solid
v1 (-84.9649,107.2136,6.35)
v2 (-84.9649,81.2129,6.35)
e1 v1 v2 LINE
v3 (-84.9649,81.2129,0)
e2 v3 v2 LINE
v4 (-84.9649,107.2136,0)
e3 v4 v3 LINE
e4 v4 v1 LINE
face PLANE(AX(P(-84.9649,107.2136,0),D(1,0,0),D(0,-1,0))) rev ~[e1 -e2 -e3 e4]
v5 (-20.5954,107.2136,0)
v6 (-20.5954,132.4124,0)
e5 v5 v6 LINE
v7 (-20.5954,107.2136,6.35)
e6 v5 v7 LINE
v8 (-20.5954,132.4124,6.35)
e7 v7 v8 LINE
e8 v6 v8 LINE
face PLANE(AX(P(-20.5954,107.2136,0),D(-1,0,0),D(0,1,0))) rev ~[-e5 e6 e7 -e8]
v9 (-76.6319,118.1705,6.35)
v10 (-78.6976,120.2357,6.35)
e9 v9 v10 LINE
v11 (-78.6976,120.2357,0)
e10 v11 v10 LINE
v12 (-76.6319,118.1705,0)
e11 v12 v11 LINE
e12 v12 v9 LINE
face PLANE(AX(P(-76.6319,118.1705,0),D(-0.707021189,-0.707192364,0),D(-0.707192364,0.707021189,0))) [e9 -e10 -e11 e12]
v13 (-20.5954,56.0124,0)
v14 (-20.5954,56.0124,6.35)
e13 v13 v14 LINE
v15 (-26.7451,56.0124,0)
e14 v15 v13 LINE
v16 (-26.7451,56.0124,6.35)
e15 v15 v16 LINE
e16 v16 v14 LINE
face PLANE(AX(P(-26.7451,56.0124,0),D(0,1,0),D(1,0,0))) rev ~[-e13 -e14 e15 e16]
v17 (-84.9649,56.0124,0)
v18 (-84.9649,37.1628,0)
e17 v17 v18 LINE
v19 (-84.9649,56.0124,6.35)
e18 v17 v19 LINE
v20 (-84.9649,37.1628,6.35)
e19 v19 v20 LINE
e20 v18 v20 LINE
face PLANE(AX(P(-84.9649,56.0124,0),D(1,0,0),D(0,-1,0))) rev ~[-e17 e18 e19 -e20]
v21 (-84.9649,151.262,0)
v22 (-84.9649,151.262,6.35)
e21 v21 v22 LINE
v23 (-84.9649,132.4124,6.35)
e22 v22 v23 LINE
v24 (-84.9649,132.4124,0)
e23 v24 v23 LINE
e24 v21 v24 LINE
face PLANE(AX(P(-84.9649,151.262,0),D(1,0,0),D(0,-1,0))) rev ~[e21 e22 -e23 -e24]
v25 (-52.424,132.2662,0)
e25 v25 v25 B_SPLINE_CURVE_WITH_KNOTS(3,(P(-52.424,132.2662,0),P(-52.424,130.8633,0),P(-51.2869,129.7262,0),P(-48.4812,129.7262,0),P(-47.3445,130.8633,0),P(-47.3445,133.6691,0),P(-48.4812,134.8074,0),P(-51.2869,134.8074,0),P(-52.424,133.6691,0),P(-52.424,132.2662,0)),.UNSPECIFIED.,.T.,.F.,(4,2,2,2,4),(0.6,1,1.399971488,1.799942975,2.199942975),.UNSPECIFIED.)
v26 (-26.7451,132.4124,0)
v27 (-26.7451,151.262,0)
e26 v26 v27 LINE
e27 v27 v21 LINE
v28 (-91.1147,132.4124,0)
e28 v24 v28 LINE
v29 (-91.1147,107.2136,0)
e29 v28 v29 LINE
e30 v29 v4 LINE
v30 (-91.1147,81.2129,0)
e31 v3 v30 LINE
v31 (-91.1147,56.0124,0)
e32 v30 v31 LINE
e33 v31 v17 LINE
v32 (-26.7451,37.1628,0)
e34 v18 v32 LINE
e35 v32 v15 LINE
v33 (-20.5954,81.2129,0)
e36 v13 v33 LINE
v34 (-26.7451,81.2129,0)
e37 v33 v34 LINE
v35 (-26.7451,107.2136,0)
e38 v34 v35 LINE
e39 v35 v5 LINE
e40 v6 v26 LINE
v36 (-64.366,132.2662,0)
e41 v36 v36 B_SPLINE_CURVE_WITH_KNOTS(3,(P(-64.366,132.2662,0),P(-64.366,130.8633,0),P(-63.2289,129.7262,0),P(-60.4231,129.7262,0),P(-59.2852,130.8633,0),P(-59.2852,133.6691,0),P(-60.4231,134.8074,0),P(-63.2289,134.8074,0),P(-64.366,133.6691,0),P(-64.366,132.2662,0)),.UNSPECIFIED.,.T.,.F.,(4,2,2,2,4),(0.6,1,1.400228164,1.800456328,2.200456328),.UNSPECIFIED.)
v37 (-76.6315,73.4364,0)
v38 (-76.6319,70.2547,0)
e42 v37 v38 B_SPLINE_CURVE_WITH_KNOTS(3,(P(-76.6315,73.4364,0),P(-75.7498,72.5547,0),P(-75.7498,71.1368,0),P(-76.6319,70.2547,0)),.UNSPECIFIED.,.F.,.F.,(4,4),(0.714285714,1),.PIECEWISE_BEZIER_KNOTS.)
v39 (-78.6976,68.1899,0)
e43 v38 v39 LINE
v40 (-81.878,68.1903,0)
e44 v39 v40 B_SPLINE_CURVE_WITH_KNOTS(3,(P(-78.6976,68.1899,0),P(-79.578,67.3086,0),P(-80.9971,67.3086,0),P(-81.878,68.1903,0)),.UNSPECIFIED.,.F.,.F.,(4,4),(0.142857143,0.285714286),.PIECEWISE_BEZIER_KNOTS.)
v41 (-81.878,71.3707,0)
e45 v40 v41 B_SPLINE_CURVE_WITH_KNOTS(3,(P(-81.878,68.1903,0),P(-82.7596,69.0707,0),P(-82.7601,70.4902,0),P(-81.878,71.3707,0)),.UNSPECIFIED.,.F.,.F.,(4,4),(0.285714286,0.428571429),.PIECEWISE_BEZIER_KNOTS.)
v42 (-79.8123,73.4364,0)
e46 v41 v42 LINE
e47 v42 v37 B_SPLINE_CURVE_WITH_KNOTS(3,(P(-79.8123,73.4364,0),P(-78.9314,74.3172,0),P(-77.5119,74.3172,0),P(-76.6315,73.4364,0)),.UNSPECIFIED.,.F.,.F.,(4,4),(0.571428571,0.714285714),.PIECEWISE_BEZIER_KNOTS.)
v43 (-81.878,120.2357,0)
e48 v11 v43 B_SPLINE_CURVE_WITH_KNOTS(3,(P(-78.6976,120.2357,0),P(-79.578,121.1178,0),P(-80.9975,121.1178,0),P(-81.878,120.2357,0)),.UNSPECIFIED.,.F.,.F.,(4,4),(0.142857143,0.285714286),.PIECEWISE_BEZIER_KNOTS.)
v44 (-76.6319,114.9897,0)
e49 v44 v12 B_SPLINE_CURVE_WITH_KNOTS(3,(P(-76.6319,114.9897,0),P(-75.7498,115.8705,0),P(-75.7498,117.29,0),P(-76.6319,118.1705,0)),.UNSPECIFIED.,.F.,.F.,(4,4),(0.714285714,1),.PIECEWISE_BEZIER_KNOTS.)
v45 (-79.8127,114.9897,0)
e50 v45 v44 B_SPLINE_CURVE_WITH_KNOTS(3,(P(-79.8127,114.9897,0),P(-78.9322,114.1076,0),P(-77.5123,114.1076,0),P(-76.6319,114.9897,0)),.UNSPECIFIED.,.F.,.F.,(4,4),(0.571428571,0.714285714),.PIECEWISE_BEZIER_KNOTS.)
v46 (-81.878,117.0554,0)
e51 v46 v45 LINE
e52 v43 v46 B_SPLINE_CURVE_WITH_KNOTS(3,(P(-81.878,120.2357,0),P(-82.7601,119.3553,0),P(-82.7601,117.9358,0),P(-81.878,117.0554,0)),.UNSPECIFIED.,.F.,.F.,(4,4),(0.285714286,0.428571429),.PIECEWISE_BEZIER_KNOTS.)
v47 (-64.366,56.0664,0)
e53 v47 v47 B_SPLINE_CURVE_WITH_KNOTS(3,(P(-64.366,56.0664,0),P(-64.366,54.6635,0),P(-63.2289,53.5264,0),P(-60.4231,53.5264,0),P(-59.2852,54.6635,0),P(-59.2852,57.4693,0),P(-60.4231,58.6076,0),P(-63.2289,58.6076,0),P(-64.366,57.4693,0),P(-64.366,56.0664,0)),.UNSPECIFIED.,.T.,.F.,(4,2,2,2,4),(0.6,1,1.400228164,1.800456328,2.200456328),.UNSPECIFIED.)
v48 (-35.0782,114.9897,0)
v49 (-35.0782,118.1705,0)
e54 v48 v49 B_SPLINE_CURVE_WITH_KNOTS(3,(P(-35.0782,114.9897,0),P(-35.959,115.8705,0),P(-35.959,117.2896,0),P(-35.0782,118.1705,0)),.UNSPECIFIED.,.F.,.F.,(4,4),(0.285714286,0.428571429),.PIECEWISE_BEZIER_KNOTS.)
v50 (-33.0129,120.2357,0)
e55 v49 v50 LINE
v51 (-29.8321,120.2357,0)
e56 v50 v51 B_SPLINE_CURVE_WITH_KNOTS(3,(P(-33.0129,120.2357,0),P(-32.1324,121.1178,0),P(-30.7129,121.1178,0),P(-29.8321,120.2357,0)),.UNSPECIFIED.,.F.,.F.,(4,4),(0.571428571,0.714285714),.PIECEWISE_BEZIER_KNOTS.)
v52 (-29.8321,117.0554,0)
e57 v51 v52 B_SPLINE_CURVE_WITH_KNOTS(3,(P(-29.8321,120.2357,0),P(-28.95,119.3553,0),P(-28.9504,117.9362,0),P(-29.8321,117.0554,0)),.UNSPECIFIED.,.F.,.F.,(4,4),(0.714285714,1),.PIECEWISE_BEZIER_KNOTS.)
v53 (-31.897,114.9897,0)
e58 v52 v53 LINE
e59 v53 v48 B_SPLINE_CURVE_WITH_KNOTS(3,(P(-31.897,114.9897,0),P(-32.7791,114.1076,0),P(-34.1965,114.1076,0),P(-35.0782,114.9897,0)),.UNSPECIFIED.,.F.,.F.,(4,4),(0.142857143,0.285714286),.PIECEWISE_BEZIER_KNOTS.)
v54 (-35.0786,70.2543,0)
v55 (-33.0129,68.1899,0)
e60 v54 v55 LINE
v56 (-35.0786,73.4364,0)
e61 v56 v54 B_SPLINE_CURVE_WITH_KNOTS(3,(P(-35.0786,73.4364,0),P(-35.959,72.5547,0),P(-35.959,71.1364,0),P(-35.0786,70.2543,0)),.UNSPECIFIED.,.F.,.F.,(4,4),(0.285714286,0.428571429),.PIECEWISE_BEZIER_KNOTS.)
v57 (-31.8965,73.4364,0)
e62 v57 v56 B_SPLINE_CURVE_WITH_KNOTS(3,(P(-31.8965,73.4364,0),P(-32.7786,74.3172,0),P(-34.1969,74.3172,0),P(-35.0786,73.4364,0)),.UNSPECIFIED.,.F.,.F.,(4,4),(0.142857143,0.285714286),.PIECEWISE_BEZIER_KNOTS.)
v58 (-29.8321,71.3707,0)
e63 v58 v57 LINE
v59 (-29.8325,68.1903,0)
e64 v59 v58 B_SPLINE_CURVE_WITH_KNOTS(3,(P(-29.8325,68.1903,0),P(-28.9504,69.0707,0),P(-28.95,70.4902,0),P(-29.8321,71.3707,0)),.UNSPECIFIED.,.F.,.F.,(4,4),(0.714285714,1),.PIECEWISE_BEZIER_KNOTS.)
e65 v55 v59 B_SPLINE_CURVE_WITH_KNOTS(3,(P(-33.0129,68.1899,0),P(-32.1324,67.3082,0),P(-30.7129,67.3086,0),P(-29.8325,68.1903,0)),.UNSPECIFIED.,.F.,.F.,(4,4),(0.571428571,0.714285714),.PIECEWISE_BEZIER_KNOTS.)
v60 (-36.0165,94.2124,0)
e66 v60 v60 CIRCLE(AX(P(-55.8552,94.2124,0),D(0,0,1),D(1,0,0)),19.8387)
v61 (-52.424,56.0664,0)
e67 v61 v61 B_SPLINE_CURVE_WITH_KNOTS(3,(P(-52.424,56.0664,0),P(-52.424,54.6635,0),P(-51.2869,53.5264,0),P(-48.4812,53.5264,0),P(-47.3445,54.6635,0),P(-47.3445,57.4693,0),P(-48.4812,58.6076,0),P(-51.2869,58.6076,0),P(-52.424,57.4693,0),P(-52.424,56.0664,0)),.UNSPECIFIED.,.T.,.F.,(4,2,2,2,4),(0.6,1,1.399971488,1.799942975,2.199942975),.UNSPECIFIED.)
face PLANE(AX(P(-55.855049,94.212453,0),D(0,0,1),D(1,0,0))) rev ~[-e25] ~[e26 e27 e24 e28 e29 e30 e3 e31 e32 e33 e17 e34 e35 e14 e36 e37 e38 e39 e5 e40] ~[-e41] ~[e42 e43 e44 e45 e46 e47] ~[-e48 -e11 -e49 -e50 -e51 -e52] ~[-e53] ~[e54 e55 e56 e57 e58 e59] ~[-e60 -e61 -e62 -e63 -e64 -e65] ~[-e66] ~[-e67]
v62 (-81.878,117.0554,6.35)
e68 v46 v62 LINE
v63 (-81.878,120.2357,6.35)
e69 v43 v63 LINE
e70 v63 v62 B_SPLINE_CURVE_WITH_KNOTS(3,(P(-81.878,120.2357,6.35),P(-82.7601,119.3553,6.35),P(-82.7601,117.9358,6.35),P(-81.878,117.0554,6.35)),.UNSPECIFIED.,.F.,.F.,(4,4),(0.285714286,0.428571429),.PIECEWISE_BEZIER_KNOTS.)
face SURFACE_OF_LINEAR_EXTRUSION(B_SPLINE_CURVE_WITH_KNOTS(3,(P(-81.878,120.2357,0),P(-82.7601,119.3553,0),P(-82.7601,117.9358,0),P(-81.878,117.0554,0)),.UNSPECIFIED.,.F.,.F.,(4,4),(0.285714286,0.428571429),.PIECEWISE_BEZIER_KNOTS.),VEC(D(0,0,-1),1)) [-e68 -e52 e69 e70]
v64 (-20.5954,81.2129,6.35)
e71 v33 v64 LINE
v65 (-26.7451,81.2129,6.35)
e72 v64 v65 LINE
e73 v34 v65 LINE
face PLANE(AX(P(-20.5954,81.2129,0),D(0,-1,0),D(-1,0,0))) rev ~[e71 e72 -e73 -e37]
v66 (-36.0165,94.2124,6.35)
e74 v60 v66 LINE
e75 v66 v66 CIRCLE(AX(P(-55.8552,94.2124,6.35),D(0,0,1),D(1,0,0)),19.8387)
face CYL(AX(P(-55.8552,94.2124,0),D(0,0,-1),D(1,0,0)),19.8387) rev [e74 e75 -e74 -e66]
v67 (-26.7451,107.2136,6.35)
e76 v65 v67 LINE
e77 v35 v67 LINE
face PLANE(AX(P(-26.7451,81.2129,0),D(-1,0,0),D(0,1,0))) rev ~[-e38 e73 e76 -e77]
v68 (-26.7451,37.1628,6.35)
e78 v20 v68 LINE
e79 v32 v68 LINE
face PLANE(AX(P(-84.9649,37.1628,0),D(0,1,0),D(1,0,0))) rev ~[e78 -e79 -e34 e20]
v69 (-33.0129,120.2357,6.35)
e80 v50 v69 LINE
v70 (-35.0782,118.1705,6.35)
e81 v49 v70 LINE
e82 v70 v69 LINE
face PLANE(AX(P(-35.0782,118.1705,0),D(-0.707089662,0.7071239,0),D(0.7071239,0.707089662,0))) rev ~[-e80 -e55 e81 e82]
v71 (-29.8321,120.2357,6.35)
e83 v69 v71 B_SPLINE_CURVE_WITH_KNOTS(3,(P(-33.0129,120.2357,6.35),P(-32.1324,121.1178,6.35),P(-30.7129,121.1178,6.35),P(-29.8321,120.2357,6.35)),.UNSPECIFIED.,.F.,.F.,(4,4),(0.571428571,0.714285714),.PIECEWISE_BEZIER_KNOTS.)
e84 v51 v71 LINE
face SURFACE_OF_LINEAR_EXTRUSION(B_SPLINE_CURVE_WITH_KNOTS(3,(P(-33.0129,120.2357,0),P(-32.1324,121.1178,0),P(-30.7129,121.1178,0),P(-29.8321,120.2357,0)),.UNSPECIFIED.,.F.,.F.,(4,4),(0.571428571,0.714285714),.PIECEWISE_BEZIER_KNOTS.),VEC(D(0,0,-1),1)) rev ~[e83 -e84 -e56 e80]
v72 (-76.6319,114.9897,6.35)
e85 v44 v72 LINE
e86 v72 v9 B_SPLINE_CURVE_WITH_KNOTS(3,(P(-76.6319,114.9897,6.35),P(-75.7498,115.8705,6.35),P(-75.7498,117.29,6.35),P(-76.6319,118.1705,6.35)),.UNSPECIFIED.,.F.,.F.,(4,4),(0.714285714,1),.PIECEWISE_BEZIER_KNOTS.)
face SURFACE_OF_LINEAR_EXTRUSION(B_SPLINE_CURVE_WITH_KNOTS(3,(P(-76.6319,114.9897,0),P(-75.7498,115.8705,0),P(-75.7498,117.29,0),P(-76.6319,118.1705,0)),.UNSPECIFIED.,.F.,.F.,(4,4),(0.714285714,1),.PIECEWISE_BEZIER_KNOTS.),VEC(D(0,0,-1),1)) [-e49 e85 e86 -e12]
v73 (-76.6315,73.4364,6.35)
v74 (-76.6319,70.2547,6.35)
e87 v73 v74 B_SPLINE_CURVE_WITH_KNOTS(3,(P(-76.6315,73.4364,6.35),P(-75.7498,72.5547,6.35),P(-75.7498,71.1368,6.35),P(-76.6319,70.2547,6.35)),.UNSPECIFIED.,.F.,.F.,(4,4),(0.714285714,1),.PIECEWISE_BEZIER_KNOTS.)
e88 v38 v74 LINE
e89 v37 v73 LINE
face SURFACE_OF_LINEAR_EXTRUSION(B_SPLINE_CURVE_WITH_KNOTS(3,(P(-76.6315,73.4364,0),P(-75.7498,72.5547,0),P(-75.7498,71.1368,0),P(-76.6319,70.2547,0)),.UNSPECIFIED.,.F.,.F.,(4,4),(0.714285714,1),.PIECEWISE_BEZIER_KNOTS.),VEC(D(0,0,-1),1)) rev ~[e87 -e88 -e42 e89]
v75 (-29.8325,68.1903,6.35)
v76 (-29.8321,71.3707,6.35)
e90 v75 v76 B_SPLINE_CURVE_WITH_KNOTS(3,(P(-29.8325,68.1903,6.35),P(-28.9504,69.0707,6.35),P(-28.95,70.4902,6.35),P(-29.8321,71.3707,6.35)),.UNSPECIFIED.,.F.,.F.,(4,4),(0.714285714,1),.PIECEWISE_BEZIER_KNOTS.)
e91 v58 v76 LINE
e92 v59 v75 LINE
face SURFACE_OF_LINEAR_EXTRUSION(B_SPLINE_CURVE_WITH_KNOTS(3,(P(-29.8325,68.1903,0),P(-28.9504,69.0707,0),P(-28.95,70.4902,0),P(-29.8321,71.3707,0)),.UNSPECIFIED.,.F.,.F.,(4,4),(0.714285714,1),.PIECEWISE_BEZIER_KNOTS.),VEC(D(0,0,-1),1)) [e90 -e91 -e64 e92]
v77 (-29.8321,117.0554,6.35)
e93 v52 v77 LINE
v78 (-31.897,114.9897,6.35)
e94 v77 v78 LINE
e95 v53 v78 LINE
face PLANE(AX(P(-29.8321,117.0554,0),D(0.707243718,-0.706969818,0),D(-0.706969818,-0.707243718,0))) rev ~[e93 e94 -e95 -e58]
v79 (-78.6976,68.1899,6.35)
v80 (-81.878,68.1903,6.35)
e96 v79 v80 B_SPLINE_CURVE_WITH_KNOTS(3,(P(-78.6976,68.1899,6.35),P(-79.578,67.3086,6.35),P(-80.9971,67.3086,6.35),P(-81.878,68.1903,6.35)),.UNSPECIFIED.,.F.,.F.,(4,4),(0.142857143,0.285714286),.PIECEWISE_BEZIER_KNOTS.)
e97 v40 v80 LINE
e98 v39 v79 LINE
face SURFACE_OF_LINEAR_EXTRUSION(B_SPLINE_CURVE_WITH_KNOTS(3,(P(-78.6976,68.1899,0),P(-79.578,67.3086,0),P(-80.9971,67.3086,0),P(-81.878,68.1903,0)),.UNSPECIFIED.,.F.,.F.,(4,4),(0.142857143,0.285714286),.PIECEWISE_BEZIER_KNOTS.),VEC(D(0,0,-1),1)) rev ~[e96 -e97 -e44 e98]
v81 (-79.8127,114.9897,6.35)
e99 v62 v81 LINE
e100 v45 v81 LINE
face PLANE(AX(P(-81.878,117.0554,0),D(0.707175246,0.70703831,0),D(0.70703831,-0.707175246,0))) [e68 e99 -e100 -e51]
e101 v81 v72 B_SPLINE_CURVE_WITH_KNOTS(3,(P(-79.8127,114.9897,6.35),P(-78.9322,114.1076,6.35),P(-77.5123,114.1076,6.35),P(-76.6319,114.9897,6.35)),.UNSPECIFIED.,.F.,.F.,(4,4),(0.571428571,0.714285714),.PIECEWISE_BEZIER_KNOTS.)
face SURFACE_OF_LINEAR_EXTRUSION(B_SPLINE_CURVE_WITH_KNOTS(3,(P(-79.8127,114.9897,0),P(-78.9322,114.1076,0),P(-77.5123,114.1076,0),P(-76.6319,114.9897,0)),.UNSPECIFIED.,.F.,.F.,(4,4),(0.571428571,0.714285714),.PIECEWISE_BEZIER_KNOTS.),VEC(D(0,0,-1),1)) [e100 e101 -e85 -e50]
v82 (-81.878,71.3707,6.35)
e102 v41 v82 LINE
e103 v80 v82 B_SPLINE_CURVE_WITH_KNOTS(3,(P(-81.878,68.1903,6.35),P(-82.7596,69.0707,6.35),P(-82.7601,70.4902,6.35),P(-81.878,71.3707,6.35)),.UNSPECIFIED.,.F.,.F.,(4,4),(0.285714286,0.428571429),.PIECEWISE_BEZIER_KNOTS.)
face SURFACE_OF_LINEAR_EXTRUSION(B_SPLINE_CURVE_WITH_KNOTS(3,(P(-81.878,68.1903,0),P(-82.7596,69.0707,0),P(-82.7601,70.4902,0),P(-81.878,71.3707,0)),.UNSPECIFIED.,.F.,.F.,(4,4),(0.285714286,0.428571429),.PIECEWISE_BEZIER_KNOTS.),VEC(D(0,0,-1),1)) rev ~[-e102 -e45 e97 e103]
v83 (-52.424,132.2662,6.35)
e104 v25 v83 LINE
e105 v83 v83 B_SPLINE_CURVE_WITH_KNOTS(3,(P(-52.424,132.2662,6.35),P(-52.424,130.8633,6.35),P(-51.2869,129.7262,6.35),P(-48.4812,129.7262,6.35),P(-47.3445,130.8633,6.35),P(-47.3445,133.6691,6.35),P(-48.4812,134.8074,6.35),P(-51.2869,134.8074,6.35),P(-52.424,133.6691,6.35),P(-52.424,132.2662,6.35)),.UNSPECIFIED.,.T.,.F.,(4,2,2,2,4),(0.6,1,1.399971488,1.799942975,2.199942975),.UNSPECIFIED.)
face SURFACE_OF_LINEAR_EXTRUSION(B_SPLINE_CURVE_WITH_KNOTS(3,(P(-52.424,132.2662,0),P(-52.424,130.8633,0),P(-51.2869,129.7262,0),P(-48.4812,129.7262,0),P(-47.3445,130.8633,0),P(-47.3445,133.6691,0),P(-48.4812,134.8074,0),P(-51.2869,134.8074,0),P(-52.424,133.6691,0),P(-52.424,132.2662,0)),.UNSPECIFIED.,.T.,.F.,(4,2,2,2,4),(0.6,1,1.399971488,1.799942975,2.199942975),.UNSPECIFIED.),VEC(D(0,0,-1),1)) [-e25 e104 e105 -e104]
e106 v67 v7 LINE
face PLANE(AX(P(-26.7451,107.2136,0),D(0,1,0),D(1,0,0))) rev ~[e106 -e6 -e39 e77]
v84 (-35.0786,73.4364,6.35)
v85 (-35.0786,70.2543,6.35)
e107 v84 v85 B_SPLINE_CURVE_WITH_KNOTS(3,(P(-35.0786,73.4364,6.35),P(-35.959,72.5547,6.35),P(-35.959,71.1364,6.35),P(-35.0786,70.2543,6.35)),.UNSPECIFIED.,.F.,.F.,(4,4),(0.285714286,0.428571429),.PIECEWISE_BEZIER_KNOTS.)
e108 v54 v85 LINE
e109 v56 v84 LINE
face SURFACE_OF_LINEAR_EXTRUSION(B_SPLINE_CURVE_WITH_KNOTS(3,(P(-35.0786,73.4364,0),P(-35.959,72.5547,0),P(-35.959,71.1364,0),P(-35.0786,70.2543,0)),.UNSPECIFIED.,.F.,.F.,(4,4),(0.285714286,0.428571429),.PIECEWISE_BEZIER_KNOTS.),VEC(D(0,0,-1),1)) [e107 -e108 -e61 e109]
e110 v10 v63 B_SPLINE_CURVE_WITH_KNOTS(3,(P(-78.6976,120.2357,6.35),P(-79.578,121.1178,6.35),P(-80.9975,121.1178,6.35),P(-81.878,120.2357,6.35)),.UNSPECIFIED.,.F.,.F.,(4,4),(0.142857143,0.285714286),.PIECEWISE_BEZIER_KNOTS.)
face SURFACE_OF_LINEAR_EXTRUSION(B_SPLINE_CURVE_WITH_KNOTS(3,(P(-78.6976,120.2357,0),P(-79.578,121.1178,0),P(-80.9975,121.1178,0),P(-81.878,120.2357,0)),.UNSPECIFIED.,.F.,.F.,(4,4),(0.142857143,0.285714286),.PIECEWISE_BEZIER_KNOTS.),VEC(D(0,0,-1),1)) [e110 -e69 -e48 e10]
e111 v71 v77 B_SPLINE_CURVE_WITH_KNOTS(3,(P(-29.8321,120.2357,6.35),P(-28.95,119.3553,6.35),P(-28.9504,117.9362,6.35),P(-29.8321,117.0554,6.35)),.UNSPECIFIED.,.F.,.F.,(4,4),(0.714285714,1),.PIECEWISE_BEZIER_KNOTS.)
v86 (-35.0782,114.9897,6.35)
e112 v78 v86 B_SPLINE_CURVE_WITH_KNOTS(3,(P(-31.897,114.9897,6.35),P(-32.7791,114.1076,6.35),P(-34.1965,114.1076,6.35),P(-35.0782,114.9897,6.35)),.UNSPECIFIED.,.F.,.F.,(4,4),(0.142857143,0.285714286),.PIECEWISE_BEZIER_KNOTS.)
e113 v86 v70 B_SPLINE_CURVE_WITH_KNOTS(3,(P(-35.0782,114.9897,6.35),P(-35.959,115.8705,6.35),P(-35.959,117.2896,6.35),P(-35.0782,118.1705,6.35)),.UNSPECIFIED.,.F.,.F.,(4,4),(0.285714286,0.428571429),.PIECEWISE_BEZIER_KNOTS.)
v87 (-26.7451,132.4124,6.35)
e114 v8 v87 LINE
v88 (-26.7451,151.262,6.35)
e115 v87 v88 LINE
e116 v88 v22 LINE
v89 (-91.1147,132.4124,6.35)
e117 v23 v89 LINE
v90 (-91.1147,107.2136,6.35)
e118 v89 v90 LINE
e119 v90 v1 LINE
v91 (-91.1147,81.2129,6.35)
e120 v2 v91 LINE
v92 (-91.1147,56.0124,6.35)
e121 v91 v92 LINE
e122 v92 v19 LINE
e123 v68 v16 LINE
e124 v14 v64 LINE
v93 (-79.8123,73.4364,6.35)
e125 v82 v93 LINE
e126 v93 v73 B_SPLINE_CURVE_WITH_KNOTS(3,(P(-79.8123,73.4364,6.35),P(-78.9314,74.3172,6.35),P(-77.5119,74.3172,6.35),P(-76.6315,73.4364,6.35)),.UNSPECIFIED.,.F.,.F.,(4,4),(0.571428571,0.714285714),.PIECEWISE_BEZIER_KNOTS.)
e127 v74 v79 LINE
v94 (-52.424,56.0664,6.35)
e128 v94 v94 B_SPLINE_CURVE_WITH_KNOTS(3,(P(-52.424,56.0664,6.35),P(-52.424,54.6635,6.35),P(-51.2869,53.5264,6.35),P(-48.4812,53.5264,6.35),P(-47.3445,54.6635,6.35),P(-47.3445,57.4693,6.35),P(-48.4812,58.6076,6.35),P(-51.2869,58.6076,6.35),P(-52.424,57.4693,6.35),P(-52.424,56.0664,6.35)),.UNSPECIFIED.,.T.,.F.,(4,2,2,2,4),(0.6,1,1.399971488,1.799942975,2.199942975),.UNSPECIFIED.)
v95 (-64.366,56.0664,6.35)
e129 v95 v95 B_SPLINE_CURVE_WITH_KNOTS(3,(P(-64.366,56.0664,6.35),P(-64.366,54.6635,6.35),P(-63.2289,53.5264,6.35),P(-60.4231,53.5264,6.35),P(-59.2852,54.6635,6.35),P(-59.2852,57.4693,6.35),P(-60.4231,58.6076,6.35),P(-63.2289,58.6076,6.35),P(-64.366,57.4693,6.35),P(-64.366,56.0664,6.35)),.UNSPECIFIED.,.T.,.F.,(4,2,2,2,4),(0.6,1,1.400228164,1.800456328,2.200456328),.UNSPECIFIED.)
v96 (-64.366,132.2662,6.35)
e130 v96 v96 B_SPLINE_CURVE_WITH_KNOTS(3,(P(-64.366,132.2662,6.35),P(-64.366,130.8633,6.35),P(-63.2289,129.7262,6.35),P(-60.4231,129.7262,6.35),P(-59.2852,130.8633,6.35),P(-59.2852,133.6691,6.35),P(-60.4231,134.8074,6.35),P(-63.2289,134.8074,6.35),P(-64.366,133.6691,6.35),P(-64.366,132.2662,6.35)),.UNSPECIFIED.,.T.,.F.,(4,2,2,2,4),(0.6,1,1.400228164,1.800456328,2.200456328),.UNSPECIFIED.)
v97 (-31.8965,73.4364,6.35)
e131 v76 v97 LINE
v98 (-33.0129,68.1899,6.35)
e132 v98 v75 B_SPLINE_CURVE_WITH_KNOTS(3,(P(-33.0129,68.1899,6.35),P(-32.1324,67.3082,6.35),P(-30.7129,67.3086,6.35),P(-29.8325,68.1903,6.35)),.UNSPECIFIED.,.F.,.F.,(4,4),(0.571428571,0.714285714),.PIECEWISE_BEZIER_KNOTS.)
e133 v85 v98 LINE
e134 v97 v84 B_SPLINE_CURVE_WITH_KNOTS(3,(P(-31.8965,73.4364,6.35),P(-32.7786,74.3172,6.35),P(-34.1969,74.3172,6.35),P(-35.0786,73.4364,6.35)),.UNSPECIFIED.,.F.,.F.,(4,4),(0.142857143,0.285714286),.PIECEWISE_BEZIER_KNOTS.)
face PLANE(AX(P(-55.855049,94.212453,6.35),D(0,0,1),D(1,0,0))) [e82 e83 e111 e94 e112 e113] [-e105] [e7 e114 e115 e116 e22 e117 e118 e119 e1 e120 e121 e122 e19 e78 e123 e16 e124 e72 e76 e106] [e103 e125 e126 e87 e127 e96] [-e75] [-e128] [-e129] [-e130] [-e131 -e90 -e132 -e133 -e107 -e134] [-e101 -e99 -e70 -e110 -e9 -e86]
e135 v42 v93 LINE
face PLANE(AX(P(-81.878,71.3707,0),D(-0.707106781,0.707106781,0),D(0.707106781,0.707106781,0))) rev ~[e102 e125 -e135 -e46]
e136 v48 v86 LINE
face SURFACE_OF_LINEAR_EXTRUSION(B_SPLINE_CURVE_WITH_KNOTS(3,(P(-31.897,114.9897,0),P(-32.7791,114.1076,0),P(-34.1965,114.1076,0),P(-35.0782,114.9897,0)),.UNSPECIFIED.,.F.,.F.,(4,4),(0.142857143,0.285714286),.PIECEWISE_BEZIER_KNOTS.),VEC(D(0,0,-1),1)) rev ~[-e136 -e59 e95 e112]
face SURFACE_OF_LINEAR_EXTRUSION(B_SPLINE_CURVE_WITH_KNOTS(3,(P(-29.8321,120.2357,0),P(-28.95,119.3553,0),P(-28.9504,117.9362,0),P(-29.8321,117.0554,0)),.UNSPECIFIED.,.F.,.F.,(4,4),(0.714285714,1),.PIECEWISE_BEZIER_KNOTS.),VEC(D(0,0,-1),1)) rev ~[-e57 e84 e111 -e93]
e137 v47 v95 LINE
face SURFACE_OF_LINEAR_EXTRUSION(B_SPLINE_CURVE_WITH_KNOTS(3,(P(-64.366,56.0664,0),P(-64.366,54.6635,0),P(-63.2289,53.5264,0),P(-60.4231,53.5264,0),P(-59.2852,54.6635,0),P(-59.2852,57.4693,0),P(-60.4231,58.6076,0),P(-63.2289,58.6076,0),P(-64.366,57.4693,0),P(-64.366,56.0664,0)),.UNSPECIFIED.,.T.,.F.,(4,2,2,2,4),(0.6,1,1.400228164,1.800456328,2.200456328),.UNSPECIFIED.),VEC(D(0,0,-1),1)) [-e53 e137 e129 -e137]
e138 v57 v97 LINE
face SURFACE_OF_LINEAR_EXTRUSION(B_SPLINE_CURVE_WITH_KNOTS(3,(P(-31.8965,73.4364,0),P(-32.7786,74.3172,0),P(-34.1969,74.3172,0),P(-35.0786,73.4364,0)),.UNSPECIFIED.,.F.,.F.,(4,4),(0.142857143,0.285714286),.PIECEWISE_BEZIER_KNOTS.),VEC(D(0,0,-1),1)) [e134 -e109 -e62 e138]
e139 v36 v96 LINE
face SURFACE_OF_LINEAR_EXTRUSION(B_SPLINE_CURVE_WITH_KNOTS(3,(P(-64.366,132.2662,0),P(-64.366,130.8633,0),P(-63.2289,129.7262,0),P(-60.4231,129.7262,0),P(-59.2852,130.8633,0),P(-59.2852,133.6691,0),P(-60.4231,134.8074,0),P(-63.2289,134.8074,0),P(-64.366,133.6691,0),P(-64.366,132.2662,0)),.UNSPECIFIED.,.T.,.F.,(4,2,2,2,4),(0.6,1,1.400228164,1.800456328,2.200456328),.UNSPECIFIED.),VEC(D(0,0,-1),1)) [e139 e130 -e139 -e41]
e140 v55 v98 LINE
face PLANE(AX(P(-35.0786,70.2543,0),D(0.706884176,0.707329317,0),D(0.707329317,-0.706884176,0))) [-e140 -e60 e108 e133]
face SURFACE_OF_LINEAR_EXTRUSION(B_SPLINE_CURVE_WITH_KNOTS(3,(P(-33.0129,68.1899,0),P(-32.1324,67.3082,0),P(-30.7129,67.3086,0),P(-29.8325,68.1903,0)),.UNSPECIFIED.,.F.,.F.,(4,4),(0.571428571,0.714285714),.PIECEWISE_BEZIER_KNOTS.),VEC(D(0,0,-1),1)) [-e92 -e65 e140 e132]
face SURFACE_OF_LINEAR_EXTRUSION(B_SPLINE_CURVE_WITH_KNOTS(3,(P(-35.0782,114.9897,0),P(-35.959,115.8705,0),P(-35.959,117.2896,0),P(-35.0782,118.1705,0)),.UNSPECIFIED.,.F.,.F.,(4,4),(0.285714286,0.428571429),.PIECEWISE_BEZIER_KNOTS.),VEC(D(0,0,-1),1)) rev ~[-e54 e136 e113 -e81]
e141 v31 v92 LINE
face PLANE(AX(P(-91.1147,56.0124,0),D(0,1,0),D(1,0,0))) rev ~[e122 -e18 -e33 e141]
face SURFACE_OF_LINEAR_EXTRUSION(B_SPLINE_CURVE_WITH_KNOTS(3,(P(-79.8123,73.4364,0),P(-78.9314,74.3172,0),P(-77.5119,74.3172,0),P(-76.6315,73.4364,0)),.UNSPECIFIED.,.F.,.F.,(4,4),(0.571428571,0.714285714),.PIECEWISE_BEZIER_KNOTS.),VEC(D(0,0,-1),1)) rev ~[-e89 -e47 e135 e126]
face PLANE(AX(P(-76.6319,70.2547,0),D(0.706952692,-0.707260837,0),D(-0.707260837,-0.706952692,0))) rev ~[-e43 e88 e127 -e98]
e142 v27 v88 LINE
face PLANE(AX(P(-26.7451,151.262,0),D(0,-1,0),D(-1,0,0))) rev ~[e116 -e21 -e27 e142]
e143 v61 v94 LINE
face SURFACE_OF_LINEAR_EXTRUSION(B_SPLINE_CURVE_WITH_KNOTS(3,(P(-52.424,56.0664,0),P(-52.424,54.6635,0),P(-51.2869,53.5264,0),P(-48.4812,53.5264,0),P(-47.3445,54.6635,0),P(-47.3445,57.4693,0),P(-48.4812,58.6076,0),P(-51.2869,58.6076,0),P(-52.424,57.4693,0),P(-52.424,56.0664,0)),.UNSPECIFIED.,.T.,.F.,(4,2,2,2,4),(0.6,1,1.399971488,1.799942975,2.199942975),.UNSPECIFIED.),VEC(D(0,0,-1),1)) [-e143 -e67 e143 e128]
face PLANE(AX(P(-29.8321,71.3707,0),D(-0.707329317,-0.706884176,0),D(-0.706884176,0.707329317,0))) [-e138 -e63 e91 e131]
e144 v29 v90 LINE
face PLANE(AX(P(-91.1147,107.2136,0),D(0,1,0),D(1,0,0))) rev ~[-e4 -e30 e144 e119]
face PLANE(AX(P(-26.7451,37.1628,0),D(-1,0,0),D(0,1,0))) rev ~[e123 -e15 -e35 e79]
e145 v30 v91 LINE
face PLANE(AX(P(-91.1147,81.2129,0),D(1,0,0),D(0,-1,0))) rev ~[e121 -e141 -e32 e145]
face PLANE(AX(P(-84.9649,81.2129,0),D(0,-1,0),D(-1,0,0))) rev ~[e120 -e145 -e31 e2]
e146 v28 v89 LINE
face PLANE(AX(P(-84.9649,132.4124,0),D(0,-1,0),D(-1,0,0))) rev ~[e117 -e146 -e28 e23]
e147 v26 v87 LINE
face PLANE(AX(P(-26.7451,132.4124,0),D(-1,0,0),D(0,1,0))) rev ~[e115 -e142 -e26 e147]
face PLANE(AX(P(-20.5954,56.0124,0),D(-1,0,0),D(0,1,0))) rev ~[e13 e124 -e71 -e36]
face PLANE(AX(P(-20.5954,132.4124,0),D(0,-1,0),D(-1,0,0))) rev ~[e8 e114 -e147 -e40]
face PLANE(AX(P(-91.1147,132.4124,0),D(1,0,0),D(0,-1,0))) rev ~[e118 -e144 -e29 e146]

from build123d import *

# Parameters (mm, degrees)
MODEL_R             = 19.8387
BOSS_EXTRUDE1_DEPTH = 6.35


with BuildPart() as part:
    # Model → Boss-Extrude1 (new body)
    with BuildSketch(Plane.XY):
        Polygon((-20.5954, 132.4124), (-26.7451, 132.4124), (-26.7451, 151.262), (-84.9649, 151.262), (-84.9649, 132.4124), (-91.1147, 132.4124), (-91.1147, 107.2136), (-84.9649, 107.2136), (-84.9649, 81.2129), (-91.1147, 81.2129), (-91.1147, 56.0124), (-84.9649, 56.0124), (-84.9649, 37.1628), (-26.7451, 37.1628), (-26.7451, 56.0124), (-20.5954, 56.0124), (-20.5954, 81.2129), (-26.7451, 81.2129), (-26.7451, 107.2136), (-20.5954, 107.2136), align=None)
        with Locations((-55.8552, 94.2124)):
            Circle(MODEL_R, mode=Mode.SUBTRACT)
        with BuildLine():
            Line((-76.6319, 70.2547), (-78.6976, 68.1899))
            add(Edge.make_bspline(
                [(-78.6976, 68.1899), (-79.578, 67.3086), (-80.9971, 67.3086), (-81.878, 68.1903)],
                knots=[0.142857143, 0.142857143, 0.142857143, 0.142857143, 0.285714286, 0.285714286, 0.285714286, 0.285714286], degree=3))
            add(Edge.make_bspline(
                [(-81.878, 68.1903), (-82.7596, 69.0707), (-82.7601, 70.4902), (-81.878, 71.3707)],
                knots=[0.285714286, 0.285714286, 0.285714286, 0.285714286, 0.428571429, 0.428571429, 0.428571429, 0.428571429], degree=3))
            Line((-81.878, 71.3707), (-79.8123, 73.4364))
            add(Edge.make_bspline(
                [(-79.8123, 73.4364), (-78.9314, 74.3172), (-77.5119, 74.3172), (-76.6315, 73.4364)],
                knots=[0.571428571, 0.571428571, 0.571428571, 0.571428571, 0.714285714, 0.714285714, 0.714285714, 0.714285714], degree=3))
            add(Edge.make_bspline(
                [(-76.6315, 73.4364), (-75.7498, 72.5547), (-75.7498, 71.1368), (-76.6319, 70.2547)],
                knots=[0.714285714, 0.714285714, 0.714285714, 0.714285714, 1, 1, 1, 1], degree=3))
        make_face(mode=Mode.SUBTRACT)
        with BuildLine():
            Line((-29.8321, 117.0554), (-31.897, 114.9897))
            add(Edge.make_bspline(
                [(-31.897, 114.9897), (-32.7791, 114.1076), (-34.1965, 114.1076), (-35.0782, 114.9897)],
                knots=[0.142857143, 0.142857143, 0.142857143, 0.142857143, 0.285714286, 0.285714286, 0.285714286, 0.285714286], degree=3))
            add(Edge.make_bspline(
                [(-35.0782, 114.9897), (-35.959, 115.8705), (-35.959, 117.2896), (-35.0782, 118.1705)],
                knots=[0.285714286, 0.285714286, 0.285714286, 0.285714286, 0.428571429, 0.428571429, 0.428571429, 0.428571429], degree=3))
            Line((-35.0782, 118.1705), (-33.0129, 120.2357))
            add(Edge.make_bspline(
                [(-33.0129, 120.2357), (-32.1324, 121.1178), (-30.7129, 121.1178), (-29.8321, 120.2357)],
                knots=[0.571428571, 0.571428571, 0.571428571, 0.571428571, 0.714285714, 0.714285714, 0.714285714, 0.714285714], degree=3))
            add(Edge.make_bspline(
                [(-29.8321, 120.2357), (-28.95, 119.3553), (-28.9504, 117.9362), (-29.8321, 117.0554)],
                knots=[0.714285714, 0.714285714, 0.714285714, 0.714285714, 1, 1, 1, 1], degree=3))
        make_face(mode=Mode.SUBTRACT)
        with BuildLine():
            Line((-29.8321, 71.3707), (-31.8965, 73.4364))
            add(Edge.make_bspline(
                [(-31.8965, 73.4364), (-32.7786, 74.3172), (-34.1969, 74.3172), (-35.0786, 73.4364)],
                knots=[0.142857143, 0.142857143, 0.142857143, 0.142857143, 0.285714286, 0.285714286, 0.285714286, 0.285714286], degree=3))
            add(Edge.make_bspline(
                [(-35.0786, 73.4364), (-35.959, 72.5547), (-35.959, 71.1364), (-35.0786, 70.2543)],
                knots=[0.285714286, 0.285714286, 0.285714286, 0.285714286, 0.428571429, 0.428571429, 0.428571429, 0.428571429], degree=3))
            Line((-35.0786, 70.2543), (-33.0129, 68.1899))
            add(Edge.make_bspline(
                [(-33.0129, 68.1899), (-32.1324, 67.3082), (-30.7129, 67.3086), (-29.8325, 68.1903)],
                knots=[0.571428571, 0.571428571, 0.571428571, 0.571428571, 0.714285714, 0.714285714, 0.714285714, 0.714285714], degree=3))
            add(Edge.make_bspline(
                [(-29.8325, 68.1903), (-28.9504, 69.0707), (-28.95, 70.4902), (-29.8321, 71.3707)],
                knots=[0.714285714, 0.714285714, 0.714285714, 0.714285714, 1, 1, 1, 1], degree=3))
        make_face(mode=Mode.SUBTRACT)
        with BuildLine():
            Line((-76.6319, 118.1705), (-78.6976, 120.2357))
            add(Edge.make_bspline(
                [(-78.6976, 120.2357), (-79.578, 121.1178), (-80.9975, 121.1178), (-81.878, 120.2357)],
                knots=[0.142857143, 0.142857143, 0.142857143, 0.142857143, 0.285714286, 0.285714286, 0.285714286, 0.285714286], degree=3))
            add(Edge.make_bspline(
                [(-81.878, 120.2357), (-82.7601, 119.3553), (-82.7601, 117.9358), (-81.878, 117.0554)],
                knots=[0.285714286, 0.285714286, 0.285714286, 0.285714286, 0.428571429, 0.428571429, 0.428571429, 0.428571429], degree=3))
            Line((-81.878, 117.0554), (-79.8127, 114.9897))
            add(Edge.make_bspline(
                [(-79.8127, 114.9897), (-78.9322, 114.1076), (-77.5123, 114.1076), (-76.6319, 114.9897)],
                knots=[0.571428571, 0.571428571, 0.571428571, 0.571428571, 0.714285714, 0.714285714, 0.714285714, 0.714285714], degree=3))
            add(Edge.make_bspline(
                [(-76.6319, 114.9897), (-75.7498, 115.8705), (-75.7498, 117.29), (-76.6319, 118.1705)],
                knots=[0.714285714, 0.714285714, 0.714285714, 0.714285714, 1, 1, 1, 1], degree=3))
        make_face(mode=Mode.SUBTRACT)
        with BuildLine():
            add(Edge.make_bspline(
                [(-61.8264, 129.7262), (-60.4231, 129.7262), (-59.2852, 130.8633), (-59.2852, 132.2662)],
                knots=[0, 0, 0, 0, 0.2, 0.2, 0.2, 0.2], degree=3))
            add(Edge.make_bspline(
                [(-59.2852, 132.2662), (-59.2852, 133.6691), (-60.4231, 134.8074), (-61.8264, 134.8074)],
                knots=[0.2, 0.2, 0.2, 0.2, 0.4, 0.4, 0.4, 0.4], degree=3))
            add(Edge.make_bspline(
                [(-61.8264, 134.8074), (-63.2289, 134.8074), (-64.366, 133.6691), (-64.366, 132.2662)],
                knots=[0.4, 0.4, 0.4, 0.4, 0.6, 0.6, 0.6, 0.6], degree=3))
            add(Edge.make_bspline(
                [(-64.366, 132.2662), (-64.366, 130.8633), (-63.2289, 129.7262), (-61.8264, 129.7262)],
                knots=[0.6, 0.6, 0.6, 0.6, 1, 1, 1, 1], degree=3))
        make_face(mode=Mode.SUBTRACT)
        with BuildLine():
            add(Edge.make_bspline(
                [(-61.8264, 53.5264), (-60.4231, 53.5264), (-59.2852, 54.6635), (-59.2852, 56.0664)],
                knots=[0, 0, 0, 0, 0.2, 0.2, 0.2, 0.2], degree=3))
            add(Edge.make_bspline(
                [(-59.2852, 56.0664), (-59.2852, 57.4693), (-60.4231, 58.6076), (-61.8264, 58.6076)],
                knots=[0.2, 0.2, 0.2, 0.2, 0.4, 0.4, 0.4, 0.4], degree=3))
            add(Edge.make_bspline(
                [(-61.8264, 58.6076), (-63.2289, 58.6076), (-64.366, 57.4693), (-64.366, 56.0664)],
                knots=[0.4, 0.4, 0.4, 0.4, 0.6, 0.6, 0.6, 0.6], degree=3))
            add(Edge.make_bspline(
                [(-64.366, 56.0664), (-64.366, 54.6635), (-63.2289, 53.5264), (-61.8264, 53.5264)],
                knots=[0.6, 0.6, 0.6, 0.6, 1, 1, 1, 1], degree=3))
        make_face(mode=Mode.SUBTRACT)
        with BuildLine():
            add(Edge.make_bspline(
                [(-49.884, 129.7262), (-48.4812, 129.7262), (-47.3445, 130.8633), (-47.3445, 132.2662)],
                knots=[0, 0, 0, 0, 0.2, 0.2, 0.2, 0.2], degree=3))
            add(Edge.make_bspline(
                [(-47.3445, 132.2662), (-47.3445, 133.6691), (-48.4812, 134.8074), (-49.884, 134.8074)],
                knots=[0.2, 0.2, 0.2, 0.2, 0.4, 0.4, 0.4, 0.4], degree=3))
            add(Edge.make_bspline(
                [(-49.884, 134.8074), (-51.2869, 134.8074), (-52.424, 133.6691), (-52.424, 132.2662)],
                knots=[0.4, 0.4, 0.4, 0.4, 0.6, 0.6, 0.6, 0.6], degree=3))
            add(Edge.make_bspline(
                [(-52.424, 132.2662), (-52.424, 130.8633), (-51.2869, 129.7262), (-49.884, 129.7262)],
                knots=[0.6, 0.6, 0.6, 0.6, 1, 1, 1, 1], degree=3))
        make_face(mode=Mode.SUBTRACT)
        with BuildLine():
            add(Edge.make_bspline(
                [(-49.884, 53.5264), (-48.4812, 53.5264), (-47.3445, 54.6635), (-47.3445, 56.0664)],
                knots=[0, 0, 0, 0, 0.2, 0.2, 0.2, 0.2], degree=3))
            add(Edge.make_bspline(
                [(-47.3445, 56.0664), (-47.3445, 57.4693), (-48.4812, 58.6076), (-49.884, 58.6076)],
                knots=[0.2, 0.2, 0.2, 0.2, 0.4, 0.4, 0.4, 0.4], degree=3))
            add(Edge.make_bspline(
                [(-49.884, 58.6076), (-51.2869, 58.6076), (-52.424, 57.4693), (-52.424, 56.0664)],
                knots=[0.4, 0.4, 0.4, 0.4, 0.6, 0.6, 0.6, 0.6], degree=3))
            add(Edge.make_bspline(
                [(-52.424, 56.0664), (-52.424, 54.6635), (-51.2869, 53.5264), (-49.884, 53.5264)],
                knots=[0.6, 0.6, 0.6, 0.6, 1, 1, 1, 1], degree=3))
        make_face(mode=Mode.SUBTRACT)
    extrude(amount=BOSS_EXTRUDE1_DEPTH)


solid = part.part
